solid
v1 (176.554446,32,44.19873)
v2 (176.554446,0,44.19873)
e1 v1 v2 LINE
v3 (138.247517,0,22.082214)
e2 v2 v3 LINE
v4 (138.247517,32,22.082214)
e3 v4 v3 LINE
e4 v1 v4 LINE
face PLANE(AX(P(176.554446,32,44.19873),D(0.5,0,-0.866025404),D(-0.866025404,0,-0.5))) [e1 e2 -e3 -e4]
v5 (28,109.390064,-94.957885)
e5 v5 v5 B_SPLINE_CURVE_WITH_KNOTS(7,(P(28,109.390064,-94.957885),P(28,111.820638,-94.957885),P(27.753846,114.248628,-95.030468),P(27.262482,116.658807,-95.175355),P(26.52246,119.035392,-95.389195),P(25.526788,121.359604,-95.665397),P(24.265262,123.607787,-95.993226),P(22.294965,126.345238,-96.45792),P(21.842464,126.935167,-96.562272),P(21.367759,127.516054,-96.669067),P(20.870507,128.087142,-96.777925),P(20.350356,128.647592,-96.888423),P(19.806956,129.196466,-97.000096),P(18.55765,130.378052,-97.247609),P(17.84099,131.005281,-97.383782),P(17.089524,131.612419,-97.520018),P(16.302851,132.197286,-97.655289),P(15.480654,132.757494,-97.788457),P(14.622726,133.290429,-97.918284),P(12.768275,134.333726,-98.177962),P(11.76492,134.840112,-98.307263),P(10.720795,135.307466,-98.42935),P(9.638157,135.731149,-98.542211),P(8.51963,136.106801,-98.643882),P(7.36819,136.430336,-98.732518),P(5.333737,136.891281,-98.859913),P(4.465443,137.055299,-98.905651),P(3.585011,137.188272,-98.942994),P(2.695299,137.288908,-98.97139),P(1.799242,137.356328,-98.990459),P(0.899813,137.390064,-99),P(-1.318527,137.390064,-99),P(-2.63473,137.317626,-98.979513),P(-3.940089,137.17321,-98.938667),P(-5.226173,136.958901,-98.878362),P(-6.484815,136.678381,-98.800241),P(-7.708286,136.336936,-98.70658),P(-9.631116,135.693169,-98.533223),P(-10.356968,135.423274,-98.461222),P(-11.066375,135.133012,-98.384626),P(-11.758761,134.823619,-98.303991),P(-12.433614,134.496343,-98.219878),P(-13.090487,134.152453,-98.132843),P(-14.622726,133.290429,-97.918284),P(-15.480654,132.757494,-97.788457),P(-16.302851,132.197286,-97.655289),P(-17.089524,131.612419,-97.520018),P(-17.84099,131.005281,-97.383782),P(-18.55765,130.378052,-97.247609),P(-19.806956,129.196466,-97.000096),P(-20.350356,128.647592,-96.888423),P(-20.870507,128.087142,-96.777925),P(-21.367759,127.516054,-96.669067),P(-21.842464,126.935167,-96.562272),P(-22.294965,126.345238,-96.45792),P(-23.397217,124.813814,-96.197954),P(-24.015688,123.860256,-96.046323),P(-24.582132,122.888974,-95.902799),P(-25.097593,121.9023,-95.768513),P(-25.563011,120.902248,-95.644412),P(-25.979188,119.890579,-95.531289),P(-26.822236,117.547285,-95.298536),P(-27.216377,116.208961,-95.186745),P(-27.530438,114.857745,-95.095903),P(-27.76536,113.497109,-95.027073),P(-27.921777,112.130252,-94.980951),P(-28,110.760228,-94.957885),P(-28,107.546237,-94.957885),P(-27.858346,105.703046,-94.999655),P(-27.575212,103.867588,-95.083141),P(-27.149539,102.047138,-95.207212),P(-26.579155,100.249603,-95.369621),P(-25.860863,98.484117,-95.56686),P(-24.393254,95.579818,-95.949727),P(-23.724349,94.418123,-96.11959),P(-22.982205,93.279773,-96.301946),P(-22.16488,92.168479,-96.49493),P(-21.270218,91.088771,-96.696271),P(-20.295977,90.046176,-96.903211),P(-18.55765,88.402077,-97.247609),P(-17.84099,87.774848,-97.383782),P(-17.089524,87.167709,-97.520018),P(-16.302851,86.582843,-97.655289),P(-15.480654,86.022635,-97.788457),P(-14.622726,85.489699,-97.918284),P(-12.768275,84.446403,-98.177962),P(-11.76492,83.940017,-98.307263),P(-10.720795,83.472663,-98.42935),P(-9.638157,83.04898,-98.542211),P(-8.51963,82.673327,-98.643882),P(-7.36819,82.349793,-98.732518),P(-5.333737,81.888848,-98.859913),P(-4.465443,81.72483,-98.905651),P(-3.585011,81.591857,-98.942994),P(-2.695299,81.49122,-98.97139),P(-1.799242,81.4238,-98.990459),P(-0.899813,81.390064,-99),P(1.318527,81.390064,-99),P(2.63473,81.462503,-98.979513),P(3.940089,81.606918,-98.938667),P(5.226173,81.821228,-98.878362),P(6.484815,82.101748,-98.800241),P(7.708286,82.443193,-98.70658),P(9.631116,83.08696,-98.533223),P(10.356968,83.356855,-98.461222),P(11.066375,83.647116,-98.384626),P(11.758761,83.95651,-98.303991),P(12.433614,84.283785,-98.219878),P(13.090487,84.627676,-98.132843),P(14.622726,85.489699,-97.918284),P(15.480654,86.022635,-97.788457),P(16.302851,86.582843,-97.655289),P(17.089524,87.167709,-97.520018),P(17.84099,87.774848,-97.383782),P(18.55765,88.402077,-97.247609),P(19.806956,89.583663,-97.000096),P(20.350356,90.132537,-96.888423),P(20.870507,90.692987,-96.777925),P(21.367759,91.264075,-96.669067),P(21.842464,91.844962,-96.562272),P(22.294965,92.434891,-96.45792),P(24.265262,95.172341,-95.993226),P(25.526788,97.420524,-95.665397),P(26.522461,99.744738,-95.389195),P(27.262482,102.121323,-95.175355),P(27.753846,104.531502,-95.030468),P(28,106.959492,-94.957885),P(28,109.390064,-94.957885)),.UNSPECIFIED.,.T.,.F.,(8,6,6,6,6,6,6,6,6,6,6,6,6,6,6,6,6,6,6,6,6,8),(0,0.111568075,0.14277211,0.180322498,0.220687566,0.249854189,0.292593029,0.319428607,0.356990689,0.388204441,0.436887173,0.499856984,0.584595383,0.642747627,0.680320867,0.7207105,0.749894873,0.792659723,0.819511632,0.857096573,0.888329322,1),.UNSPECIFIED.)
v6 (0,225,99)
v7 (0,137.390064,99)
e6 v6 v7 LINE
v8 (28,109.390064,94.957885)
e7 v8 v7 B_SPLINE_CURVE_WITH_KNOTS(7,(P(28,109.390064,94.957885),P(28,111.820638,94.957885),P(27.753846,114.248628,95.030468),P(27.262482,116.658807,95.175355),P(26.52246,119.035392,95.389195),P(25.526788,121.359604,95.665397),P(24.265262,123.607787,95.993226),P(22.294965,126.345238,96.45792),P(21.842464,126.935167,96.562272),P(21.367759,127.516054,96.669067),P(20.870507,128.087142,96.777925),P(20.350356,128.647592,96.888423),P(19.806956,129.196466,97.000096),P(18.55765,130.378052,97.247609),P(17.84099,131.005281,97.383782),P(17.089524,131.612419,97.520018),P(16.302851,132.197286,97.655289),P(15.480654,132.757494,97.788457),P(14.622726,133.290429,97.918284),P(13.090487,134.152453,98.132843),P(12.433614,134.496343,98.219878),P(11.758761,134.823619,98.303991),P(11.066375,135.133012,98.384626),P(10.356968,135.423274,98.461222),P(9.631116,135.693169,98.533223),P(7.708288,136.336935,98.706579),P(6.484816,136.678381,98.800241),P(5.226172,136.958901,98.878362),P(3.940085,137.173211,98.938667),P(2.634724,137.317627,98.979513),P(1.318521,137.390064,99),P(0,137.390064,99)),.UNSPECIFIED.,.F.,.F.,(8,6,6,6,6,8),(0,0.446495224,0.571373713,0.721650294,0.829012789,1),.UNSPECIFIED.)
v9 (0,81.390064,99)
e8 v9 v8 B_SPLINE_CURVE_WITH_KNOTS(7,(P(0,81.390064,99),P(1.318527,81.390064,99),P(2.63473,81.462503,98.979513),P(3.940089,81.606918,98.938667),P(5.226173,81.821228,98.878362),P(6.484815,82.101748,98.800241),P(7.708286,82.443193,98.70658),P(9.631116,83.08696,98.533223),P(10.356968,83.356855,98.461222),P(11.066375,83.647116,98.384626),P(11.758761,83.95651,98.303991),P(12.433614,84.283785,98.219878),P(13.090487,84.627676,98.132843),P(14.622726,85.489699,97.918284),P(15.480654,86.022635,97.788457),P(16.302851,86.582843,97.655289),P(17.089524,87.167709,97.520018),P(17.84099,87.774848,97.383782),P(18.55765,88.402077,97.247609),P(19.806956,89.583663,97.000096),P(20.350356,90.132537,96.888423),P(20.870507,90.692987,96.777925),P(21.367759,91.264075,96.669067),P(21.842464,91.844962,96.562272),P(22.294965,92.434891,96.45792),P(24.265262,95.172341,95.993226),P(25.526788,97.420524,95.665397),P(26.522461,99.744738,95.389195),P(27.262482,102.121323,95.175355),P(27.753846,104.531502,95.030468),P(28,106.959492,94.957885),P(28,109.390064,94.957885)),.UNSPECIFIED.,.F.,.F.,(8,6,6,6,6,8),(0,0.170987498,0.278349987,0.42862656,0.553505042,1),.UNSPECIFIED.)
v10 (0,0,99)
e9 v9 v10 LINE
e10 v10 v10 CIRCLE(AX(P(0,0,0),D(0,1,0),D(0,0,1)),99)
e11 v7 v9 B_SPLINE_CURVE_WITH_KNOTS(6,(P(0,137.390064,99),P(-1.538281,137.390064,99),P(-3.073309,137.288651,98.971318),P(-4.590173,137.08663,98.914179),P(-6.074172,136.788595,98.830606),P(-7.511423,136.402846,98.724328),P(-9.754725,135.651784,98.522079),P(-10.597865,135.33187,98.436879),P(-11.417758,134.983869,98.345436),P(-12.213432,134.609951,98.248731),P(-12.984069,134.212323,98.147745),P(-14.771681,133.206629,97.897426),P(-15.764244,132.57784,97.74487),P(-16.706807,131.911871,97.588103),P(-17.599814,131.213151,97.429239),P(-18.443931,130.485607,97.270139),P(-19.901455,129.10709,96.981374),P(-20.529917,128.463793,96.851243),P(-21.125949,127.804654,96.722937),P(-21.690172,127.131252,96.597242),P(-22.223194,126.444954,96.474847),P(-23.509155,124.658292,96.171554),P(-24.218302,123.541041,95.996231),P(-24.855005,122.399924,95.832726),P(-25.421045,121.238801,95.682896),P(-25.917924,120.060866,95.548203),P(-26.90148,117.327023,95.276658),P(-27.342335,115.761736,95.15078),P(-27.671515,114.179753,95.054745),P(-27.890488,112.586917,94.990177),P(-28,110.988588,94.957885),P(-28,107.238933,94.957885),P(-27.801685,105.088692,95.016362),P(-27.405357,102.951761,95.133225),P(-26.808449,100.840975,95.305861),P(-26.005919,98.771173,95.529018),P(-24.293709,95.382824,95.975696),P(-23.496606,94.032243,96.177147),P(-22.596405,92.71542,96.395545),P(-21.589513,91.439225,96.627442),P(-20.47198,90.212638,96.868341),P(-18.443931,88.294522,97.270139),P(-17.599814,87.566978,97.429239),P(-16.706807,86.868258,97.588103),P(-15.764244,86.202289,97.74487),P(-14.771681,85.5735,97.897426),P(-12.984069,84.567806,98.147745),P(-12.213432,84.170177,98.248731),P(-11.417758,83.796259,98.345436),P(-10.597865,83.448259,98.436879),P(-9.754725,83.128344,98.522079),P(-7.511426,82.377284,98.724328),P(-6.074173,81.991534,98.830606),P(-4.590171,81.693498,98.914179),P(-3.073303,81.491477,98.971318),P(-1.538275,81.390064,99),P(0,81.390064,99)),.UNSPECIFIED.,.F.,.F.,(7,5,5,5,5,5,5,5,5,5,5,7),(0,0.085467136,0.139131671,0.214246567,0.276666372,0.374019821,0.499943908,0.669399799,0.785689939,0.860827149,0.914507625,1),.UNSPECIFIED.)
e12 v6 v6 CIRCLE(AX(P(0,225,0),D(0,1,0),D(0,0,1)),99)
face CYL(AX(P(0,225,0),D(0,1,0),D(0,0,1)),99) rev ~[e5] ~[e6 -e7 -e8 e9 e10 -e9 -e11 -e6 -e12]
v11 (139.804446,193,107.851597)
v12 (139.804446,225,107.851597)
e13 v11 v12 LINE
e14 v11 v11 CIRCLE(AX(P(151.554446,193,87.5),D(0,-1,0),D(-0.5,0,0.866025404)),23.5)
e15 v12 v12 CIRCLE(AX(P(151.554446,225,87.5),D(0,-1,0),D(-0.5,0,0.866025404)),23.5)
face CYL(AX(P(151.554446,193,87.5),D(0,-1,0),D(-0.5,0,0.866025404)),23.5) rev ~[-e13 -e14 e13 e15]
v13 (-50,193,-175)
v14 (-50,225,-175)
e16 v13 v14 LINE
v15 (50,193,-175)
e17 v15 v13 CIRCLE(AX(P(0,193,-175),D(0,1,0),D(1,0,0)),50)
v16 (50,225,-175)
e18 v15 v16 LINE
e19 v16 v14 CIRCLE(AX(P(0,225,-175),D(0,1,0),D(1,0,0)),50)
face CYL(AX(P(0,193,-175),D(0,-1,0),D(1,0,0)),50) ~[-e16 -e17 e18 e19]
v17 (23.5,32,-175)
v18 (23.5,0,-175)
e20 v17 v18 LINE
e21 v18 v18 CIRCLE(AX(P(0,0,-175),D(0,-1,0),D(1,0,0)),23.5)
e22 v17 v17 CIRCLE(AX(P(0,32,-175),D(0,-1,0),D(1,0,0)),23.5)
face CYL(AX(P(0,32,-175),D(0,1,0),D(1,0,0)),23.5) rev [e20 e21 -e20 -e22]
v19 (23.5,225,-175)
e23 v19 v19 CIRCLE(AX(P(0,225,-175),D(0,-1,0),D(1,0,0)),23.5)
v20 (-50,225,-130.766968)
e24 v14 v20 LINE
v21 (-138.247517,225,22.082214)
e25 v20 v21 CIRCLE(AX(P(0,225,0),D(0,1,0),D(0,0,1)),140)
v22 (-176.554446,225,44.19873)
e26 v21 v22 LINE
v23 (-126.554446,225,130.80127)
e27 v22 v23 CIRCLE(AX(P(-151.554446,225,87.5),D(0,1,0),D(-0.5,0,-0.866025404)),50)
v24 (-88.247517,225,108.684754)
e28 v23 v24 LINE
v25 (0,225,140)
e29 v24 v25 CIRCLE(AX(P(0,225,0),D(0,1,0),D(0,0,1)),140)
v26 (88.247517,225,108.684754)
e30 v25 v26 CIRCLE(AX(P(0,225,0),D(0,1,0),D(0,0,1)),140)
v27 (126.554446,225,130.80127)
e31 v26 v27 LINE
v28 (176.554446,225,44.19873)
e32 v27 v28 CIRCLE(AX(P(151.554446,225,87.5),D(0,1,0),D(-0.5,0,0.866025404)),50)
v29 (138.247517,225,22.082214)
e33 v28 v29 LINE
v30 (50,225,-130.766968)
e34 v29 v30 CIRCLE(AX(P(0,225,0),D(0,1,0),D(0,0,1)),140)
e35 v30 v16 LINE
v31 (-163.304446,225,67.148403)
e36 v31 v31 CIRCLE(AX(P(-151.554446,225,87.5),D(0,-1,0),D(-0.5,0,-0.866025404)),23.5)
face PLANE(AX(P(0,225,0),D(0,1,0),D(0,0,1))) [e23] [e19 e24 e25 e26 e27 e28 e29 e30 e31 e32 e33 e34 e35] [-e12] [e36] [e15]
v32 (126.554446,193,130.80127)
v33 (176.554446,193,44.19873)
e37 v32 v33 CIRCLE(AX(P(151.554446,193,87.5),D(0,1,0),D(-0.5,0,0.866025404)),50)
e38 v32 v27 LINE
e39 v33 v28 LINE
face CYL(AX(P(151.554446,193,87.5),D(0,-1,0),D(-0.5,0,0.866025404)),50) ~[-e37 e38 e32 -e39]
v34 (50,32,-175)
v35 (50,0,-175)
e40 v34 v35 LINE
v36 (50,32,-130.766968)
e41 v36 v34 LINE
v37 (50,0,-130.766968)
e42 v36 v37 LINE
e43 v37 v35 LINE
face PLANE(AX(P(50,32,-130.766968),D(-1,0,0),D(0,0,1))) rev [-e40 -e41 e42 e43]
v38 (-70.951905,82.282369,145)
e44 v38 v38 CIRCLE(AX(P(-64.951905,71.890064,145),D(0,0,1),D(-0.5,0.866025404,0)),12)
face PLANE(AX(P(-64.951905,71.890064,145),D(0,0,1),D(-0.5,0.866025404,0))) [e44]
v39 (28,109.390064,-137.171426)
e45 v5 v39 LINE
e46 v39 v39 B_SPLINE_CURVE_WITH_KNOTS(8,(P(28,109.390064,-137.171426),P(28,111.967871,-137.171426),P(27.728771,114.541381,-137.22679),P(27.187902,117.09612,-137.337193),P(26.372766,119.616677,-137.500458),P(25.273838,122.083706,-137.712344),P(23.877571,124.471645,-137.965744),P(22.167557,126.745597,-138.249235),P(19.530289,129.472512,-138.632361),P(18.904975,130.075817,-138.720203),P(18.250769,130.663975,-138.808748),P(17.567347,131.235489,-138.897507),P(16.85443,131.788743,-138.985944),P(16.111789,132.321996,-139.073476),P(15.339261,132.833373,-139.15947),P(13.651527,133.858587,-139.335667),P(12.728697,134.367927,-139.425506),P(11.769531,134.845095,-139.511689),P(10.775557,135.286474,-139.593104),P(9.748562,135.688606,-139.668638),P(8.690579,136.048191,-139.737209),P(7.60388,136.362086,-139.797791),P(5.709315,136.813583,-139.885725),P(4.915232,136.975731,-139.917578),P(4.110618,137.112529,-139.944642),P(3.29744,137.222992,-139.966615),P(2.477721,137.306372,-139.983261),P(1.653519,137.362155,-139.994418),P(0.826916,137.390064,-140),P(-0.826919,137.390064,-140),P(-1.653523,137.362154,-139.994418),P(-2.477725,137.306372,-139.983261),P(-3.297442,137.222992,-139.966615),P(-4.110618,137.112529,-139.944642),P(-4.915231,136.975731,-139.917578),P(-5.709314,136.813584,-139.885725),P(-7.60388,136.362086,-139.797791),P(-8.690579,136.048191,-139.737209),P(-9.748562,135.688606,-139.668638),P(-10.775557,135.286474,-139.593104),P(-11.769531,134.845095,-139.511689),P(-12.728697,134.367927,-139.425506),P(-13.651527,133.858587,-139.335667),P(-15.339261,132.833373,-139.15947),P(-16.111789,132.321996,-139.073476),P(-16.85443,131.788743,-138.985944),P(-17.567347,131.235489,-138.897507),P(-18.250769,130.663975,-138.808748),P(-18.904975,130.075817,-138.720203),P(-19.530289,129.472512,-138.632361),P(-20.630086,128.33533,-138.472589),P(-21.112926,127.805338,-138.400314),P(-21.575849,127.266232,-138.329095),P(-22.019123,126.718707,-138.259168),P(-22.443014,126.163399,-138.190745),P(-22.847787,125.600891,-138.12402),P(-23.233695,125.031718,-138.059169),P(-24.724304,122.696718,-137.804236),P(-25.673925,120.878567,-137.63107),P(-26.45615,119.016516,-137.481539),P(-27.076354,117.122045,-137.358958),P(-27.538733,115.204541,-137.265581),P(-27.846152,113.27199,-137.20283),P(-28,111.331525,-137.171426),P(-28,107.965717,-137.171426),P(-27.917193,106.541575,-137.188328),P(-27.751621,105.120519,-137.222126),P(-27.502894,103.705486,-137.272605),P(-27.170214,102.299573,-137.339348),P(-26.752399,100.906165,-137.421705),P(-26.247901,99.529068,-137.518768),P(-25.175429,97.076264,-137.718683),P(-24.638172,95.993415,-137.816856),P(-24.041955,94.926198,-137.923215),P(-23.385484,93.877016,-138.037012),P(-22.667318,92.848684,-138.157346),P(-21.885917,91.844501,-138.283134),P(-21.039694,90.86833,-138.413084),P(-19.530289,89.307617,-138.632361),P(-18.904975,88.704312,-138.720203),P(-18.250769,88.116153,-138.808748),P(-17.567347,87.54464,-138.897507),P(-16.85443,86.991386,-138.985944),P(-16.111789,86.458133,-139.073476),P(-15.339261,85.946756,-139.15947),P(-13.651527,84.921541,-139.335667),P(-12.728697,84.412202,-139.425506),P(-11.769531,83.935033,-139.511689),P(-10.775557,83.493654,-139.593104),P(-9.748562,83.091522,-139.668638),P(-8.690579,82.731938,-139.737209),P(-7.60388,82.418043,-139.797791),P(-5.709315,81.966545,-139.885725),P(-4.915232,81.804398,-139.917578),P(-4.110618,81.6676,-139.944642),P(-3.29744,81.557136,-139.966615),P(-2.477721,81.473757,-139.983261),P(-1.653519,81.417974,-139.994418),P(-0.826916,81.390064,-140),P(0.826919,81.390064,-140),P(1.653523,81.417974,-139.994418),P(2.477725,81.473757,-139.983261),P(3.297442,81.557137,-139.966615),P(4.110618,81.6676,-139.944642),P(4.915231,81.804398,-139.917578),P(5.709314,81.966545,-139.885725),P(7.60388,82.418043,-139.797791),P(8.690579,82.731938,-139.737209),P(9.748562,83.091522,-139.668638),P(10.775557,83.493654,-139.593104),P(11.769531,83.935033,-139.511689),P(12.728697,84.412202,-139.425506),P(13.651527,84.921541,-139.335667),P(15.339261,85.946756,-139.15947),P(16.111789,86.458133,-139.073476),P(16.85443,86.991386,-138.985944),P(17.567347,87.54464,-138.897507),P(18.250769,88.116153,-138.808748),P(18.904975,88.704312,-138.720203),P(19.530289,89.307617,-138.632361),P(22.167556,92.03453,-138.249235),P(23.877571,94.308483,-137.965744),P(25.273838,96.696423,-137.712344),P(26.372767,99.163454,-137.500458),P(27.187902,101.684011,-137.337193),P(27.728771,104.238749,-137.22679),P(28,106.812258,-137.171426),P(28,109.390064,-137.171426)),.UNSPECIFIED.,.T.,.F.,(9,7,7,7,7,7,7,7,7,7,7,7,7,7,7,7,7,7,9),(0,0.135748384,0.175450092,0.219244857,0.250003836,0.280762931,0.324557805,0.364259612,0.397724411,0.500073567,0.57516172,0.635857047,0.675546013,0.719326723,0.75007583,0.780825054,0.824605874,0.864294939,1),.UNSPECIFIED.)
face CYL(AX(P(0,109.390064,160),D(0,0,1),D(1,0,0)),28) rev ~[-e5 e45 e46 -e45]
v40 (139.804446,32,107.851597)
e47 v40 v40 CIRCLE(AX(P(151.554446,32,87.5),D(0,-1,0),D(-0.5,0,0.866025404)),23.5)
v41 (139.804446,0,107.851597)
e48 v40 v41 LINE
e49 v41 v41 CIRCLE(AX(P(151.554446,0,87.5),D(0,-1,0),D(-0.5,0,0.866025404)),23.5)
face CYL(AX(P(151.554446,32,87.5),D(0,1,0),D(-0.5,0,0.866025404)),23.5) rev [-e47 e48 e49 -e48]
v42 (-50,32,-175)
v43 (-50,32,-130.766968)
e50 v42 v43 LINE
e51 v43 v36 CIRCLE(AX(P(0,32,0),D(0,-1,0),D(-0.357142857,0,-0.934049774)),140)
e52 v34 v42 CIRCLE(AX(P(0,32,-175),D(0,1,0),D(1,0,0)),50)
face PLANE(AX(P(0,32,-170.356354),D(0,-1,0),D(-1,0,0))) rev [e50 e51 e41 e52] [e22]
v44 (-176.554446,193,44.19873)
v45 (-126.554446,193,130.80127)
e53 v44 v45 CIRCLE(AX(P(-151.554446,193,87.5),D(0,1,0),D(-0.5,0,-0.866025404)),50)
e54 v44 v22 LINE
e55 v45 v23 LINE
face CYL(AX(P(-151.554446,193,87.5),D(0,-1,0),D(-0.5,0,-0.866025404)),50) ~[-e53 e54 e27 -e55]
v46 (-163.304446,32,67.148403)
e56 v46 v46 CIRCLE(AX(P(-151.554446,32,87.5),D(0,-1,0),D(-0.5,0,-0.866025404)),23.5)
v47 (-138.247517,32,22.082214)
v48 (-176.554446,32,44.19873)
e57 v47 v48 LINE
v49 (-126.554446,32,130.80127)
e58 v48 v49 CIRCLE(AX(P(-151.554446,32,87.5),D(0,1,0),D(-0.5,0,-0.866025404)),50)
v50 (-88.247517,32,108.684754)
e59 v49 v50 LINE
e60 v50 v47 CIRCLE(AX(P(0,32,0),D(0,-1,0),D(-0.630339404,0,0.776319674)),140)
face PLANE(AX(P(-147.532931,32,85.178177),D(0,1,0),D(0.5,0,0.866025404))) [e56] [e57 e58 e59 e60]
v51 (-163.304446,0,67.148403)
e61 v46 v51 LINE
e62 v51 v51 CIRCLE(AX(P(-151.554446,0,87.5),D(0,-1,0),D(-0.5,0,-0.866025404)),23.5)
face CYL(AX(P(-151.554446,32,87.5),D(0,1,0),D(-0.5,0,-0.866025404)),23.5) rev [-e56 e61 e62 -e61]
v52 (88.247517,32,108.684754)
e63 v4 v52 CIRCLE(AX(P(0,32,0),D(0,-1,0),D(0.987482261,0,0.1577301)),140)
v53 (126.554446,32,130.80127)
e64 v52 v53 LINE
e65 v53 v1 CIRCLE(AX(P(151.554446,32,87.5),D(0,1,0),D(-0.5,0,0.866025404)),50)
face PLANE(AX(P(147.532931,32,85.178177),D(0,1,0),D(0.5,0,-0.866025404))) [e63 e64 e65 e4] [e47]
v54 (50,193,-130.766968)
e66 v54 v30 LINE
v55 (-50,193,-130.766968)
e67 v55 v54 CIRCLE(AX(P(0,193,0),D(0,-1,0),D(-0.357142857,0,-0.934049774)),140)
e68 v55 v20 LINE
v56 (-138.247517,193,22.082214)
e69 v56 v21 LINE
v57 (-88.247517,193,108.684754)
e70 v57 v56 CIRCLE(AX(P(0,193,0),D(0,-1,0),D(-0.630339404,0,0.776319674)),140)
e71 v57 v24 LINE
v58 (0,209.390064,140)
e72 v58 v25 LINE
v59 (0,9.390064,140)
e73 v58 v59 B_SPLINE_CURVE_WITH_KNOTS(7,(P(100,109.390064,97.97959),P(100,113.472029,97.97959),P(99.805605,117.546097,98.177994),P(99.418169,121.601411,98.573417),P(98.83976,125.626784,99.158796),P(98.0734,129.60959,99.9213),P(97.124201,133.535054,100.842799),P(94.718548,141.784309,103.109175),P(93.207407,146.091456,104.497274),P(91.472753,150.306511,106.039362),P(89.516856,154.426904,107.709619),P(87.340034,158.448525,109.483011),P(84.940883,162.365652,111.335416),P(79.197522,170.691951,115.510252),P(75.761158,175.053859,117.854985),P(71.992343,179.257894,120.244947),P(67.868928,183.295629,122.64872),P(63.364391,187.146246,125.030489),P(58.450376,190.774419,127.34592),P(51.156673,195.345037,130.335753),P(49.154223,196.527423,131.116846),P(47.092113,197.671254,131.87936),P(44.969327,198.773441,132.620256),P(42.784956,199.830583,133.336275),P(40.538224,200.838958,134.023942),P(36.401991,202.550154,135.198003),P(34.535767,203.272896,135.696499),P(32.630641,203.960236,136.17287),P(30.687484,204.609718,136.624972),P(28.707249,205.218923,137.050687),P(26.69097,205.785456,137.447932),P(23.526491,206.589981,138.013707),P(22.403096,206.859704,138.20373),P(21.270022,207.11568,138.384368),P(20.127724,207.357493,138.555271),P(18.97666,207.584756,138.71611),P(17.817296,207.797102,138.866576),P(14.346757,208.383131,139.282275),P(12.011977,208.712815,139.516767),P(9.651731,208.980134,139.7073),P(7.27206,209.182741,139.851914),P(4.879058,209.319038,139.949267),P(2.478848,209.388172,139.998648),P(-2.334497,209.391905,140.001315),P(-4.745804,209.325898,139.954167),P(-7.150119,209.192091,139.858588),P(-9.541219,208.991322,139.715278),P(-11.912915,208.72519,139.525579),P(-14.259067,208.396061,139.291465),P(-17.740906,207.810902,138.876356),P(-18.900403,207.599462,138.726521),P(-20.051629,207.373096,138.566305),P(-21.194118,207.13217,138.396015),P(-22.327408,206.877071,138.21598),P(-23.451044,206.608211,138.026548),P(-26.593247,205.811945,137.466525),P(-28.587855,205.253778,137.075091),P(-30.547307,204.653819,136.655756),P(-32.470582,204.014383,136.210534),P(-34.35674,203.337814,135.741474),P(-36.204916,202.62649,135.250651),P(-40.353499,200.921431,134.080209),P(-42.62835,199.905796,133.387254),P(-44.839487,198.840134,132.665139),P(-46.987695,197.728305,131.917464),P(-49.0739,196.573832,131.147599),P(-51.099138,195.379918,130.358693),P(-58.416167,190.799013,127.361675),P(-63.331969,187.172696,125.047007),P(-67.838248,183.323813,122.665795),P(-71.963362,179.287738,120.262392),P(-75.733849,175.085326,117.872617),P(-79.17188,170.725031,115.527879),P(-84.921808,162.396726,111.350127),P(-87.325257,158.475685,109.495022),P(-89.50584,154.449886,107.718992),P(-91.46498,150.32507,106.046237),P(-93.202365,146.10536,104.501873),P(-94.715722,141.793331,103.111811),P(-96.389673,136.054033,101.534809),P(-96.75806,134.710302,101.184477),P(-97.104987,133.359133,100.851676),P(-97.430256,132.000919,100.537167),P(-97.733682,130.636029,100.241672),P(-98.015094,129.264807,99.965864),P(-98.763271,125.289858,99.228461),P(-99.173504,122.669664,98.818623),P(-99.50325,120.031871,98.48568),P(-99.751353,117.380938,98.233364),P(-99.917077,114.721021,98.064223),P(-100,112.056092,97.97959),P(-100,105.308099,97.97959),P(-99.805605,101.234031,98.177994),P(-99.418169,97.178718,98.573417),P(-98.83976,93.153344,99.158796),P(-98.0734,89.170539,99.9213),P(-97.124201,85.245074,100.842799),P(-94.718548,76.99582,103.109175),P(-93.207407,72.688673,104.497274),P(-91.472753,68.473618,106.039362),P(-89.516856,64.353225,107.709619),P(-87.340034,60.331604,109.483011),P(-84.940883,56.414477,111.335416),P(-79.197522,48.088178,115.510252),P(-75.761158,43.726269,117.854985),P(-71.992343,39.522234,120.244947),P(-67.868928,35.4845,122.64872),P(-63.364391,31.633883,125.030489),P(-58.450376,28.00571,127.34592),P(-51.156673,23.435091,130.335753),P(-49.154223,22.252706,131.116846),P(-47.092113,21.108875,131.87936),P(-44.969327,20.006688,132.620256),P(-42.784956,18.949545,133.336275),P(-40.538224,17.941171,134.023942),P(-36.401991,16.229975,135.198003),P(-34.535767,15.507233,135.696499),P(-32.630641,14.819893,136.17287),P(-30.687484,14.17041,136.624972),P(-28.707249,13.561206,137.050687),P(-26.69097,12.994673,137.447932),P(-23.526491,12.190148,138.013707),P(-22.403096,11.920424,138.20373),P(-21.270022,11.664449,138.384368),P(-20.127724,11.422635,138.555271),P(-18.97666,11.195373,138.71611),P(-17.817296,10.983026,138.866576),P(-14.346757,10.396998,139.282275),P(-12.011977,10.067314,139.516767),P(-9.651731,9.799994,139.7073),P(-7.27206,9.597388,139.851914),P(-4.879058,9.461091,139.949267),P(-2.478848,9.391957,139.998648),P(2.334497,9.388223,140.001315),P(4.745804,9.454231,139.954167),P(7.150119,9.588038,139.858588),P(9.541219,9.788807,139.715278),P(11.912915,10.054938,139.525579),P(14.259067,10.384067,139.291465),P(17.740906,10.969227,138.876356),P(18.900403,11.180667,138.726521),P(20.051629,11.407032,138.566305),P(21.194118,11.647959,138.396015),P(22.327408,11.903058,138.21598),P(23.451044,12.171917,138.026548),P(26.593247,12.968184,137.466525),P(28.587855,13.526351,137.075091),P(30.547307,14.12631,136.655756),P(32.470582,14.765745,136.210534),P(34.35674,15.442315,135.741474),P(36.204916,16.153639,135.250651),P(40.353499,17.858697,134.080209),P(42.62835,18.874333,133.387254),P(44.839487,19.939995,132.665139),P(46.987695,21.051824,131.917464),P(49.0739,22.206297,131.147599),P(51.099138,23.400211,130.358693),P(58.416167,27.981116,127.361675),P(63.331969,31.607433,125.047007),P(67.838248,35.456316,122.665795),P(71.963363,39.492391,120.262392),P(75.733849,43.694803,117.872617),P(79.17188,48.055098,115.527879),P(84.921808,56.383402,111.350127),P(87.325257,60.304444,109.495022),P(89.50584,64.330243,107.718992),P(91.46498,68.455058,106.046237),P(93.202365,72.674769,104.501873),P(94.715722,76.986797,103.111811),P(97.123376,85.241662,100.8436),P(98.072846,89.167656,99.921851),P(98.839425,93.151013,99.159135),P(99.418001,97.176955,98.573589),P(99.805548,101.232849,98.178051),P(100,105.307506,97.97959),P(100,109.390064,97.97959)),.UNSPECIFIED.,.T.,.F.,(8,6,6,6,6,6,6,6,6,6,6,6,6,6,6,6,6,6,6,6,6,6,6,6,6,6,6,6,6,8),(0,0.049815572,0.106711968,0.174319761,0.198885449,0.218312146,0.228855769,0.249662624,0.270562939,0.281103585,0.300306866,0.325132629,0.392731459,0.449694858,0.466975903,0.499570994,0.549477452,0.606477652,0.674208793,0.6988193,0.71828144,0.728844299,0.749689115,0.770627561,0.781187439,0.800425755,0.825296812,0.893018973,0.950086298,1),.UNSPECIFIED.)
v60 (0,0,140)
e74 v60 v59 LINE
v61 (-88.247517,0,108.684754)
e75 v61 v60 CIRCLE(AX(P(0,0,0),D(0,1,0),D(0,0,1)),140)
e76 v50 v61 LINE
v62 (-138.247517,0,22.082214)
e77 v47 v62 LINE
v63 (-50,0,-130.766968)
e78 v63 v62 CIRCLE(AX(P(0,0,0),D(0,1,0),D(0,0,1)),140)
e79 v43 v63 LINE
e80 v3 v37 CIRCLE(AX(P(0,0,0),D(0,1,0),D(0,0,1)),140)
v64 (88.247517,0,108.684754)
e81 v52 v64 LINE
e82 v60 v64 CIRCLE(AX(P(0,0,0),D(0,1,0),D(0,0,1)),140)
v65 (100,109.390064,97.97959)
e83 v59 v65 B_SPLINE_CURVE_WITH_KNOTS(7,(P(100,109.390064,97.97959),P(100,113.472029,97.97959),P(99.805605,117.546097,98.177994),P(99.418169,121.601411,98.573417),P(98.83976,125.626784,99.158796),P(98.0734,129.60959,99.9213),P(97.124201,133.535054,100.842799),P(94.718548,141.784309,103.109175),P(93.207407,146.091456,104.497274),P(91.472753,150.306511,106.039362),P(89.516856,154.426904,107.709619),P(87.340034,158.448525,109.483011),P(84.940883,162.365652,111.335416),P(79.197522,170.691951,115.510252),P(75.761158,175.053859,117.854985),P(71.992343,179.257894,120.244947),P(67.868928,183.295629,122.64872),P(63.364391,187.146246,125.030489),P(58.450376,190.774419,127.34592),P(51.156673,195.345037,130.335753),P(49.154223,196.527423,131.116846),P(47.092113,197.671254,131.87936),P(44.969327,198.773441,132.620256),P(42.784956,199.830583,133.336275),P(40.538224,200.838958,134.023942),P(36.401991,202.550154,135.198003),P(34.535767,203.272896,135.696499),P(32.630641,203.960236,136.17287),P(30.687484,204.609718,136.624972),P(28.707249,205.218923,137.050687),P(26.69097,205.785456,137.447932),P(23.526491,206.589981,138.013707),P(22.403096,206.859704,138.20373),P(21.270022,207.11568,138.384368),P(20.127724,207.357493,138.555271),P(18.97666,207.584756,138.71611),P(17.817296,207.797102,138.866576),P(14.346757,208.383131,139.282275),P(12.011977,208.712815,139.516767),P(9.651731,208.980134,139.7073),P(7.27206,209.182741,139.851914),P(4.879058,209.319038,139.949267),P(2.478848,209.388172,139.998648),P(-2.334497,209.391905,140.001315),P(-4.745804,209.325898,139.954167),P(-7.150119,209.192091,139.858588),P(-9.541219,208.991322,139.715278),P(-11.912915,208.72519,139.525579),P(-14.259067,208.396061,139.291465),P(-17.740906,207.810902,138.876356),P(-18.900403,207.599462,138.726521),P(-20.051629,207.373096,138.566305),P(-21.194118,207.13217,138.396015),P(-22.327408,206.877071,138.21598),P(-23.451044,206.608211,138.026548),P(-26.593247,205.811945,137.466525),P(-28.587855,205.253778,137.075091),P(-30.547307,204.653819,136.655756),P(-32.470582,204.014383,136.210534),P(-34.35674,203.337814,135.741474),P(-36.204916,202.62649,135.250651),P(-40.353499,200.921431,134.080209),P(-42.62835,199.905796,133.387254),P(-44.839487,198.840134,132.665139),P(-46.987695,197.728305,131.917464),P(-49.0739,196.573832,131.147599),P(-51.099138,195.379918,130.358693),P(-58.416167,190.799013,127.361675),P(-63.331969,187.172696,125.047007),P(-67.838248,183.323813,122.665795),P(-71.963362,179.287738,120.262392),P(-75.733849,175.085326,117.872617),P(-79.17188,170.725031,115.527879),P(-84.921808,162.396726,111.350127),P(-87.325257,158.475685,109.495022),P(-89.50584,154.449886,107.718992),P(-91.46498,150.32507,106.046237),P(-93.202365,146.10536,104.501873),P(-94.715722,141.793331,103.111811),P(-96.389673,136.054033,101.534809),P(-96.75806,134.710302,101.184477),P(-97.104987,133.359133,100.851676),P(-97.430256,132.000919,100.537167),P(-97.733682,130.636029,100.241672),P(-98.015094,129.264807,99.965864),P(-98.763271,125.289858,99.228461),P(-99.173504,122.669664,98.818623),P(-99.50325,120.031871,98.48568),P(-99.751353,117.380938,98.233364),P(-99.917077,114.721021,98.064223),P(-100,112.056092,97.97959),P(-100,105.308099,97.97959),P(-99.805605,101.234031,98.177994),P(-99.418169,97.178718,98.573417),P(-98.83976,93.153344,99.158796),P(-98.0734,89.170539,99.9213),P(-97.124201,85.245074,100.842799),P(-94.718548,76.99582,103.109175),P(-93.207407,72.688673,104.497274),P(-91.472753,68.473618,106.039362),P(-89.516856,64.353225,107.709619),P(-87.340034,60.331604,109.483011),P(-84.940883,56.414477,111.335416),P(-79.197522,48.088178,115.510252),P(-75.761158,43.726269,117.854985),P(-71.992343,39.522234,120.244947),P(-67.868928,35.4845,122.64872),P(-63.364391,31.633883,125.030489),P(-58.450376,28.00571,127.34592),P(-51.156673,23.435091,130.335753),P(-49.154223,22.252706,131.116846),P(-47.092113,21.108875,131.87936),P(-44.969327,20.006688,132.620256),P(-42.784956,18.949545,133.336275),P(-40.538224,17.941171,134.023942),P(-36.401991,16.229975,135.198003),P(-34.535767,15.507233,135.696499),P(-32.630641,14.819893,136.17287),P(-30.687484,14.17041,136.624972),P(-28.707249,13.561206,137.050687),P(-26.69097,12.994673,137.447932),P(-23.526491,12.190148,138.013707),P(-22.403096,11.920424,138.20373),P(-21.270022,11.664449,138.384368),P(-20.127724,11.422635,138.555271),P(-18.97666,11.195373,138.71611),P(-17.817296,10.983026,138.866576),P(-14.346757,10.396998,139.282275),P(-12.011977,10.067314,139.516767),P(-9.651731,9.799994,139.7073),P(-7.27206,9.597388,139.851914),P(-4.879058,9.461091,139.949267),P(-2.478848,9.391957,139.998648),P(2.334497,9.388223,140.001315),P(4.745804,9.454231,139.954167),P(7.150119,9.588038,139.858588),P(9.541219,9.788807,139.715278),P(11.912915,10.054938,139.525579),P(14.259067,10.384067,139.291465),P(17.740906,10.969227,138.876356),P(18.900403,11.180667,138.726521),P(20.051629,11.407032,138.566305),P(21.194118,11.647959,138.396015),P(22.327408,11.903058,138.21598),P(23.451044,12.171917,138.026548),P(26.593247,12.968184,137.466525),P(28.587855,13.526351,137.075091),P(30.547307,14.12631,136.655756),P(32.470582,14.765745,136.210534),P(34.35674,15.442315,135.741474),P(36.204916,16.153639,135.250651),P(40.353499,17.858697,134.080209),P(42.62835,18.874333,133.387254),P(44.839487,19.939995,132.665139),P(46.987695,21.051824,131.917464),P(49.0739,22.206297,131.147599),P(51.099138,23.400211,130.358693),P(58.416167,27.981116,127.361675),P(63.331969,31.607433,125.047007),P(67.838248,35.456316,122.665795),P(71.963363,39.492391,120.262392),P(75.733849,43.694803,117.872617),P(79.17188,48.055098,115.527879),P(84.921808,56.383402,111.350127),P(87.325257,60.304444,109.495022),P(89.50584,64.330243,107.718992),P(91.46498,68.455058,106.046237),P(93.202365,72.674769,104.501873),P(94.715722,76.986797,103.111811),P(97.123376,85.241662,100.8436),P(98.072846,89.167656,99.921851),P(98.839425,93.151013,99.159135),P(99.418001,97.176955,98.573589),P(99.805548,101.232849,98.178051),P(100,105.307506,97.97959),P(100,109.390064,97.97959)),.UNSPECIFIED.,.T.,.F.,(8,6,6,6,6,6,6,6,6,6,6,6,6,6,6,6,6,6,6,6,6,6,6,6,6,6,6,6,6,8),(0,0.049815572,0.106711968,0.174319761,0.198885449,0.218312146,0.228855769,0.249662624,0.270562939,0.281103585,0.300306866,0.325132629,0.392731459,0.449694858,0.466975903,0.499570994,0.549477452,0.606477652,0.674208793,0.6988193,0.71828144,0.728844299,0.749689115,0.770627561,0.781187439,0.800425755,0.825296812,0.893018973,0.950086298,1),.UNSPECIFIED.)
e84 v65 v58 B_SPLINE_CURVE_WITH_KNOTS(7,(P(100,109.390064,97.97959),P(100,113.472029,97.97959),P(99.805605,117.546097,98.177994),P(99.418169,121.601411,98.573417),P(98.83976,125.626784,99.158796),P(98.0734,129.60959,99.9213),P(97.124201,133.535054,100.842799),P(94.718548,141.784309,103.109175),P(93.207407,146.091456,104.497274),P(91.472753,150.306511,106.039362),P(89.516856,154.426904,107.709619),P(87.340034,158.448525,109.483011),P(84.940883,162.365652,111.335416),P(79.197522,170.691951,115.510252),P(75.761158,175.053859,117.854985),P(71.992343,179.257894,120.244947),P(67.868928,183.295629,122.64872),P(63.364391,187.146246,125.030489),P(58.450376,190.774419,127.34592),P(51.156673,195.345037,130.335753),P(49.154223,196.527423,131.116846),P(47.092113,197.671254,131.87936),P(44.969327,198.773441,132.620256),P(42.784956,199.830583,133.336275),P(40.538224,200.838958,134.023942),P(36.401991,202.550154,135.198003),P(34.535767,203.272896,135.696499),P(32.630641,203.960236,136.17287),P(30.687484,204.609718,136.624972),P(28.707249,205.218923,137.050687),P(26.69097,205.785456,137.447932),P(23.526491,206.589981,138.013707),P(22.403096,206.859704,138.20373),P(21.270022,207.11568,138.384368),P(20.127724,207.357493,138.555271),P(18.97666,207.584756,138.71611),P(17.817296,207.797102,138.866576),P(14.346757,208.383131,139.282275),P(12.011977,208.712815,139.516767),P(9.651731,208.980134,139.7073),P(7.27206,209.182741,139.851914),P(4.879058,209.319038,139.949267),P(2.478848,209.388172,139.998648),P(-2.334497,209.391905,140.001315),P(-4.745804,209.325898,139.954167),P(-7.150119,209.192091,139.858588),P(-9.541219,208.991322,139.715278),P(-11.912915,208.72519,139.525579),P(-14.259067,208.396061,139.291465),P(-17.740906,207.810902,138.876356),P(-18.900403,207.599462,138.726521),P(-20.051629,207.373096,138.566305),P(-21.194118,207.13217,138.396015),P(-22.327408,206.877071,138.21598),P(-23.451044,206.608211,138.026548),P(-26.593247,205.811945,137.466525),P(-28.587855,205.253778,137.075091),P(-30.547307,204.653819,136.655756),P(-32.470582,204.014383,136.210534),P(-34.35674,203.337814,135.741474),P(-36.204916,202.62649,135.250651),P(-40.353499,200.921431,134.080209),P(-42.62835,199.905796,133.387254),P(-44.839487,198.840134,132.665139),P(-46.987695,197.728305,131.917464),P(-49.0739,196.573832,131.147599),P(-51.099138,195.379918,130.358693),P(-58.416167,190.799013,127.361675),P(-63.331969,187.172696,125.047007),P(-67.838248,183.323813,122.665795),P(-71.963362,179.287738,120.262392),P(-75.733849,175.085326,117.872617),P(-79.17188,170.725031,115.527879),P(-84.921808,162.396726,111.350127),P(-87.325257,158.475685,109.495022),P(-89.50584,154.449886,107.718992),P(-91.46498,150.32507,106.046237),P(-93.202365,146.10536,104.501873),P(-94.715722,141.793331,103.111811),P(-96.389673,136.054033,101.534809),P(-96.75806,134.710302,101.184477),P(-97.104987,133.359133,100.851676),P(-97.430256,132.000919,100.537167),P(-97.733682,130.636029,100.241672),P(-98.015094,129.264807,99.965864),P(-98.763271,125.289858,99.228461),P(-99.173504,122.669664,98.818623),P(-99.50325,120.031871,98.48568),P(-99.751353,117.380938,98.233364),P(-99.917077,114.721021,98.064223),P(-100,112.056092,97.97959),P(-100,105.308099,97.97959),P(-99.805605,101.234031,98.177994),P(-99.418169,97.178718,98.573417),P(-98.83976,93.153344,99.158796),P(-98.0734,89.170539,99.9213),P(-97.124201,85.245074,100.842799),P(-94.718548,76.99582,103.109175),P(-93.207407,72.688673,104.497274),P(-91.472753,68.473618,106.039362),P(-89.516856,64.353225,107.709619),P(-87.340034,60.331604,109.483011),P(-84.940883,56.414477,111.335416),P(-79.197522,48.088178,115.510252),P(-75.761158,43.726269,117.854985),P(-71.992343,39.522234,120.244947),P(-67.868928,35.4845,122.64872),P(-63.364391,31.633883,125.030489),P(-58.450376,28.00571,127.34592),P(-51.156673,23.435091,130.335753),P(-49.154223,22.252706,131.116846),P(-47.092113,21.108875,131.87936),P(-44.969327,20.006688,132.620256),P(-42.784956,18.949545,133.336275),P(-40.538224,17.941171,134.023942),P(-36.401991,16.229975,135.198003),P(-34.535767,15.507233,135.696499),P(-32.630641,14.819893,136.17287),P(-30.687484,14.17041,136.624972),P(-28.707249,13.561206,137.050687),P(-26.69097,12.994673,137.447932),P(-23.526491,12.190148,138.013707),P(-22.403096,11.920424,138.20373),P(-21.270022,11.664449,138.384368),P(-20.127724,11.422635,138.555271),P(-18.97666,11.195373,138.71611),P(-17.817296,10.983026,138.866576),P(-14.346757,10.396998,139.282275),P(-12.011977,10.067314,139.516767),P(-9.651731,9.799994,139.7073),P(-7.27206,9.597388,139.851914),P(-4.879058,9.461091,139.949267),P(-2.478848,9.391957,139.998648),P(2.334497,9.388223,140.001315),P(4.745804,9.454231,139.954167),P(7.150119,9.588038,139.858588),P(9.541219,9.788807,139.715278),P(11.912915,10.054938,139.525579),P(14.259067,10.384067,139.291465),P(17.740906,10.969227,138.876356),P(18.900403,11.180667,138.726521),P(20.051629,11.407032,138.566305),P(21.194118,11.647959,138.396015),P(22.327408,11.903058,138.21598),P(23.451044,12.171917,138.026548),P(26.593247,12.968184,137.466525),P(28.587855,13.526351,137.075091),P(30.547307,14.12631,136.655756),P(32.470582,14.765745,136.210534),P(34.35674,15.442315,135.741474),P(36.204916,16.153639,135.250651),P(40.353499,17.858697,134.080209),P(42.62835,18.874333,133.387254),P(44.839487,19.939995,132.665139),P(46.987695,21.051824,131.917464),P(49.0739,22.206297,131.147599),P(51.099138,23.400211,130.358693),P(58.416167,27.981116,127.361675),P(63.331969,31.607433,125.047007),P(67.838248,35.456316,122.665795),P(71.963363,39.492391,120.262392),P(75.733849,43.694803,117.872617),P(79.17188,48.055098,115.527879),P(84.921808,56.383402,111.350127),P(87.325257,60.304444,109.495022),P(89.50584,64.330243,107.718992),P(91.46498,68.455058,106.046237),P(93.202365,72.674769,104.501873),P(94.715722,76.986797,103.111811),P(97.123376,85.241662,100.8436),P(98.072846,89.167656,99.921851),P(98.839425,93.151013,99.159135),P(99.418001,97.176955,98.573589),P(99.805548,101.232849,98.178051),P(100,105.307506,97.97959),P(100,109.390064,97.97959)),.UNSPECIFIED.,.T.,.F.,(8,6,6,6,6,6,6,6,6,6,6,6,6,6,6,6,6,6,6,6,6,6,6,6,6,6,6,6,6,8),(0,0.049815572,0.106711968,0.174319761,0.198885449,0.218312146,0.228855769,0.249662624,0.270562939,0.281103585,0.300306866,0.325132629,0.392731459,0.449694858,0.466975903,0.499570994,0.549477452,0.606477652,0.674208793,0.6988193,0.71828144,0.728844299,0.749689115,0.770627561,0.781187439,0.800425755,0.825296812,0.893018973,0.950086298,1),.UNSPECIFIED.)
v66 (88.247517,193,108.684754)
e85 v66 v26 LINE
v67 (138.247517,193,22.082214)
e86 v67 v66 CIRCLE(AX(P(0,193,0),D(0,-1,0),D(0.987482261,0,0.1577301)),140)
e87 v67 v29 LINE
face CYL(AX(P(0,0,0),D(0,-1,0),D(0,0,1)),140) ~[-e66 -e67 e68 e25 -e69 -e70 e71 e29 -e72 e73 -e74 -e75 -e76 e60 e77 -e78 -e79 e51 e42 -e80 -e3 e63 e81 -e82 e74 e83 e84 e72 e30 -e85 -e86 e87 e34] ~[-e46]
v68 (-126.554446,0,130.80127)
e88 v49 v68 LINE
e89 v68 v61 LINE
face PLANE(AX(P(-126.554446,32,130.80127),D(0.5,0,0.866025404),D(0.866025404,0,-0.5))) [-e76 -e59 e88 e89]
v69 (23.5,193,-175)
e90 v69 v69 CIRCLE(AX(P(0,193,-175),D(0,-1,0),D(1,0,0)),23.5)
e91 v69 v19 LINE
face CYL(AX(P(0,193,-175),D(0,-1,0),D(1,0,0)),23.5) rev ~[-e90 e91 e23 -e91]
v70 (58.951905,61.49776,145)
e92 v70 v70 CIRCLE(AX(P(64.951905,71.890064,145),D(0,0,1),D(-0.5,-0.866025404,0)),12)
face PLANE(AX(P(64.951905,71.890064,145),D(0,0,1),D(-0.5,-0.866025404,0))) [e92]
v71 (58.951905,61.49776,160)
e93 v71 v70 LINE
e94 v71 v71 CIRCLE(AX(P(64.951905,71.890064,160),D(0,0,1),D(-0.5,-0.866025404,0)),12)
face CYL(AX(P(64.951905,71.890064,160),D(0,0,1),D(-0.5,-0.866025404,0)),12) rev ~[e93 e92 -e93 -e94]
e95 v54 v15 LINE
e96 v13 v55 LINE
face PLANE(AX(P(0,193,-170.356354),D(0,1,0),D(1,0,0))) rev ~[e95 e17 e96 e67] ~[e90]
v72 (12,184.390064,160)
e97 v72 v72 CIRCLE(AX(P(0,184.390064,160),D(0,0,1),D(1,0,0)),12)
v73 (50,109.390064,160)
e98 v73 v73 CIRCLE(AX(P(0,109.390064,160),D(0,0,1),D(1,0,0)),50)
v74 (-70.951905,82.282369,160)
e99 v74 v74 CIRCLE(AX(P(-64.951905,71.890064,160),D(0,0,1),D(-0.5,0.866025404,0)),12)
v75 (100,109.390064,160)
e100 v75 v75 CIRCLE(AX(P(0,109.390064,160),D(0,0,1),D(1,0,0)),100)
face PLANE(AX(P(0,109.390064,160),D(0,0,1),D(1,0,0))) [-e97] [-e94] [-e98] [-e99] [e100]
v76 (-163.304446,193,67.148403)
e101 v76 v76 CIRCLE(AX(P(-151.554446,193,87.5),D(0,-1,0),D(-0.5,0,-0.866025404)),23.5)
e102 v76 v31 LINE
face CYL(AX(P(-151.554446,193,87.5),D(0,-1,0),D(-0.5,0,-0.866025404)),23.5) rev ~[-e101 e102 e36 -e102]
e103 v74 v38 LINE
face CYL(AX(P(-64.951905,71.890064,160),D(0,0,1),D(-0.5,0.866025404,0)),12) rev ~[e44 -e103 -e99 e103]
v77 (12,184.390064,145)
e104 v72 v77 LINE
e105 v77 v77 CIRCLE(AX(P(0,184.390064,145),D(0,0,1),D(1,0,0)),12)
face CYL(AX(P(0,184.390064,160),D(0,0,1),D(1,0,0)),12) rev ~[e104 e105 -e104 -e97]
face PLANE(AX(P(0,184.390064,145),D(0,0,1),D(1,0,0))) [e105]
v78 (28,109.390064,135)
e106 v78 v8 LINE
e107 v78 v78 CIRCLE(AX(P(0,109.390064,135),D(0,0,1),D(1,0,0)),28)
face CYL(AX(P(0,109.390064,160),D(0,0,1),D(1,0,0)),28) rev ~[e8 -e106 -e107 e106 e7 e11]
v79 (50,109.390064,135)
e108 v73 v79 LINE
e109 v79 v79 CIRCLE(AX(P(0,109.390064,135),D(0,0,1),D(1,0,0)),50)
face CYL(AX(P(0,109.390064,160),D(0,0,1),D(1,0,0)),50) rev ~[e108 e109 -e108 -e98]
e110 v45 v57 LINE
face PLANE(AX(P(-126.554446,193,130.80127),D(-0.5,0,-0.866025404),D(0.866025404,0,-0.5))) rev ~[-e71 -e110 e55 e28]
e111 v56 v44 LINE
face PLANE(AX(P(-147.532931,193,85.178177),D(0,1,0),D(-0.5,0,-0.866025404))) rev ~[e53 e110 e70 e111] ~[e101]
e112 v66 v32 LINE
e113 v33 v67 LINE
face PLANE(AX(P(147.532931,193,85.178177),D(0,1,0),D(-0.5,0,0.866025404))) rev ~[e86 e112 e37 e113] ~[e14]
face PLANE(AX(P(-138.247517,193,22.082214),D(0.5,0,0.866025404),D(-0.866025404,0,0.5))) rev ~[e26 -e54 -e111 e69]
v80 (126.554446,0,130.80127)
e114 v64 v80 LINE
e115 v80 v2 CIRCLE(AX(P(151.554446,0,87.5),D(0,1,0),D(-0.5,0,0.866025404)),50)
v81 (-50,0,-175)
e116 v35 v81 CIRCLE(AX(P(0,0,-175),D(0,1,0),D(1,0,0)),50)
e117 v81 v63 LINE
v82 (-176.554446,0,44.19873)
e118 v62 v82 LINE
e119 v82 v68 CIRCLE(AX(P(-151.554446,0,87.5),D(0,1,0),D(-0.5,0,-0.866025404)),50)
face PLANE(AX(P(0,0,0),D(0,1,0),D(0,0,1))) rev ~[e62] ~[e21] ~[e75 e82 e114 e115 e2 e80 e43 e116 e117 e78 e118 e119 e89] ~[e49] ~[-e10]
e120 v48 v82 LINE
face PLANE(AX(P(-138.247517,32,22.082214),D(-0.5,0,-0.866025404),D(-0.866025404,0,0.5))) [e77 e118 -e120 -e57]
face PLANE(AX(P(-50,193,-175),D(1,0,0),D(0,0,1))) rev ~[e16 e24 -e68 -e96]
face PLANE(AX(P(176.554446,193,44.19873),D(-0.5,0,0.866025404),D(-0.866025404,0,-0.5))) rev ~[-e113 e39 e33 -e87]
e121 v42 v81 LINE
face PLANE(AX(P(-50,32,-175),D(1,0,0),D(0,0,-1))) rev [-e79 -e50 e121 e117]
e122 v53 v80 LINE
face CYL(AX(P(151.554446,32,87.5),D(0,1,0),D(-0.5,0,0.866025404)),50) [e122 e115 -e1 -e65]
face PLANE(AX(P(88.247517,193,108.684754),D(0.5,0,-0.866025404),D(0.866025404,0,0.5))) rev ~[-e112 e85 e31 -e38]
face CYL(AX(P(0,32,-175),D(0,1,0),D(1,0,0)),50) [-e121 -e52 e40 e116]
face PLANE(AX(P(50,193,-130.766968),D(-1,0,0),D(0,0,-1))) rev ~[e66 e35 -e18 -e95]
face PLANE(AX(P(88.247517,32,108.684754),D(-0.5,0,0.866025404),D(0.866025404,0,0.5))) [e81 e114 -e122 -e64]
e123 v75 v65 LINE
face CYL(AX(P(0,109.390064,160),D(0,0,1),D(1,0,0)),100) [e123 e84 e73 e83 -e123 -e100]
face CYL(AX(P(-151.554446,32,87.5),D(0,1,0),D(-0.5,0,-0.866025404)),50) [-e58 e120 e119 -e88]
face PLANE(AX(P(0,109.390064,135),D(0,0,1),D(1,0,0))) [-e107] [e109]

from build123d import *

# Parameters (mm, degrees)
SKETCH1_R                = 140
BOSS_EXTRUDE1_DEPTH      = 225
SKETCH2_R                = 99
CUT_EXTRUDE1_DEPTH       = 300.708191413
BOSS_EXTRUDE2_START      = -32
BOSS_EXTRUDE2_DEPTH      = 32
CIRPATTERN1_COUNT        = 3
CIRPATTERN2_START        = -32
CIRPATTERN2_COPY_1_DEPTH = 32
CIRPATTERN2_COPY_2_DEPTH = 32
CIRPATTERN2_COPY_3_DEPTH = 32
CIRPATTERN2_COPY_4_DEPTH = 32
BOSS_EXTRUDE3_REACH      = 491.361
BOSS_EXTRUDE3_END_RADIUS = 140
SKETCH5_R                = 100
SKETCH6_R                = 50
CUT_EXTRUDE2_DEPTH       = 25
SKETCH9_R                = 28
CUT_EXTRUDE3_DEPTH       = 490.361006427
SKETCH11_R               = 12
CUT_EXTRUDE4_DEPTH       = 15
CIRPATTERN4_COUNT        = 3


with BuildPart() as part:
    # Sketch1 → Boss-Extrude1 (new body)
    with BuildSketch(Plane(origin=(0, 0, 0), x_dir=(1, 0, 0), z_dir=(0, 1, 0))):
        with Locations(Location((0, 0, 0), (0, 0, 270))):
            Circle(SKETCH1_R)
    extrude(amount=BOSS_EXTRUDE1_DEPTH)

    # Sketch2 → Cut-Extrude1 (cut, through all)
    with BuildSketch(Plane(origin=(0, 225, 0), x_dir=(1, 0, 0), z_dir=(0, 1, 0))):
        with Locations(Location((0, 0, 0), (0, 0, 270))):
            Circle(SKETCH2_R)
    extrude(amount=-CUT_EXTRUDE1_DEPTH, mode=Mode.SUBTRACT)

    # Sketch3 → Boss-Extrude2 (add)
    with BuildSketch(Plane(origin=(0, 225, 0), x_dir=(1, 0, 0), z_dir=(0, 1, 0)).offset(BOSS_EXTRUDE2_START)):
        with BuildLine():
            ThreePointArc((50, 175), (0, 225), (-50, 175))
            Line((-50, 175), (-50, 130.766968306))
            ThreePointArc((-50, 130.766968306), (0, 140), (50, 130.766968306))
            Line((50, 130.766968306), (50, 175))
        make_face()
        with BuildLine():
            ThreePointArc((-23.5, 175), (0, 198.5), (23.5, 175))
            ThreePointArc((23.5, 175), (0, 151.5), (-23.5, 175))
        make_face(mode=Mode.SUBTRACT)
    boss_extrude2 = extrude(amount=BOSS_EXTRUDE2_DEPTH)

    # CirPattern1: Boss-Extrude2 ×3 about axis
    cirpattern1_axis = Axis((0, 0, 0), (0, 1, 0))
    for i in range(1, CIRPATTERN1_COUNT):
        add(boss_extrude2.rotate(cirpattern1_axis, i * 360 / CIRPATTERN1_COUNT))

    # Mirror3: Boss-Extrude2 across plane
    add(boss_extrude2.mirror(Plane(origin=(0, 112.5, 0), x_dir=(0, 0, 1), z_dir=(0, -1, 0))))

    # CirPattern2 copy 1 sketch → CirPattern2 copy 1 (add)
    with BuildSketch(Plane(origin=(0, 0, 0), x_dir=(-0.4999999999999998, 0, 0.8660254037844387), z_dir=(0, -1, 0)).offset(CIRPATTERN2_START)):
        with BuildLine():
            ThreePointArc((50, -175), (0, -225), (-50, -175))
            Line((-50, -175), (-50, -130.766968306))
            ThreePointArc((-50, -130.766968306), (0, -140), (50, -130.766968306))
            Line((50, -130.766968306), (50, -175))
        make_face()
        with BuildLine():
            ThreePointArc((-23.5, -175), (0, -198.5), (23.5, -175))
            ThreePointArc((23.5, -175), (0, -151.5), (-23.5, -175))
        make_face(mode=Mode.SUBTRACT)
    extrude(amount=CIRPATTERN2_COPY_1_DEPTH)

    # CirPattern2 copy 2 sketch → CirPattern2 copy 2 (add)
    with BuildSketch(Plane(origin=(0, 0, 0), x_dir=(-0.5000000000000004, 0, -0.8660254037844384), z_dir=(0, -1, 0)).offset(CIRPATTERN2_START)):
        with BuildLine():
            ThreePointArc((50, -175), (0, -225), (-50, -175))
            Line((-50, -175), (-50, -130.766968306))
            ThreePointArc((-50, -130.766968306), (0, -140), (50, -130.766968306))
            Line((50, -130.766968306), (50, -175))
        make_face()
        with BuildLine():
            ThreePointArc((-23.5, -175), (0, -198.5), (23.5, -175))
            ThreePointArc((23.5, -175), (0, -151.5), (-23.5, -175))
        make_face(mode=Mode.SUBTRACT)
    extrude(amount=CIRPATTERN2_COPY_2_DEPTH)

    # CirPattern2 copy 3 sketch → CirPattern2 copy 3 (add)
    with BuildSketch(Plane(origin=(0, 225, 0), x_dir=(-0.4999999999999998, 0, 0.8660254037844387), z_dir=(0, 1, 0)).offset(CIRPATTERN2_START)):
        with BuildLine():
            ThreePointArc((50, 175), (0, 225), (-50, 175))
            Line((-50, 175), (-50, 130.766968306))
            ThreePointArc((-50, 130.766968306), (0, 140), (50, 130.766968306))
            Line((50, 130.766968306), (50, 175))
        make_face()
        with BuildLine():
            ThreePointArc((-23.5, 175), (0, 198.5), (23.5, 175))
            ThreePointArc((23.5, 175), (0, 151.5), (-23.5, 175))
        make_face(mode=Mode.SUBTRACT)
    extrude(amount=CIRPATTERN2_COPY_3_DEPTH)

    # CirPattern2 copy 4 sketch → CirPattern2 copy 4 (add)
    with BuildSketch(Plane(origin=(0, 225, 0), x_dir=(-0.5000000000000004, 0, -0.8660254037844384), z_dir=(0, 1, 0)).offset(CIRPATTERN2_START)):
        with BuildLine():
            ThreePointArc((50, 175), (0, 225), (-50, 175))
            Line((-50, 175), (-50, 130.766968306))
            ThreePointArc((-50, 130.766968306), (0, 140), (50, 130.766968306))
            Line((50, 130.766968306), (50, 175))
        make_face()
        with BuildLine():
            ThreePointArc((-23.5, 175), (0, 198.5), (23.5, 175))
            ThreePointArc((23.5, 175), (0, 151.5), (-23.5, 175))
        make_face(mode=Mode.SUBTRACT)
    extrude(amount=CIRPATTERN2_COPY_4_DEPTH)

    # Boss-Extrude3: up to this cylinder (the profile starts outside it)
    boss_extrude3_end = Plane(origin=(0, 109.390064, 0), z_dir=(0, -1, 0)) * Cylinder(BOSS_EXTRUDE3_END_RADIUS, 1263.722, mode=Mode.PRIVATE)
    # Sketch5 → Boss-Extrude3 (add, up to the surface)
    with BuildSketch(Plane.XY.offset(160), mode=Mode.PRIVATE) as boss_extrude3_sk1:
        with Locations((0, 109.390064354)):
            Circle(SKETCH5_R)
    boss_extrude3_tool1 = extrude(boss_extrude3_sk1.sketch, amount=-BOSS_EXTRUDE3_REACH, mode=Mode.PRIVATE) - boss_extrude3_end
    add(boss_extrude3_tool1.solids().sort_by_distance((0, 109.390064, 160))[0])

    # Sketch6 → Cut-Extrude2 (cut)
    with BuildSketch(Plane.XY.offset(160)):
        with Locations((0, 109.390064354)):
            Circle(SKETCH6_R)
    extrude(amount=-CUT_EXTRUDE2_DEPTH, mode=Mode.SUBTRACT)

    # Sketch9 → Cut-Extrude3 (cut, through all)
    with BuildSketch(Plane.XY.offset(160)):
        with Locations((0, 109.390064354)):
            Circle(SKETCH9_R)
    extrude(amount=-CUT_EXTRUDE3_DEPTH, mode=Mode.SUBTRACT)

    # Sketch11 → Cut-Extrude4 (cut)
    with BuildSketch(Plane.XY.offset(160)):
        with Locations((0, 184.390064354)):
            Circle(SKETCH11_R)
    cut_extrude4 = extrude(amount=-CUT_EXTRUDE4_DEPTH, mode=Mode.SUBTRACT)

    # CirPattern4: Cut-Extrude4 ×3 about axis
    cirpattern4_axis = Axis((0, 109.390064354, 0), (0, 0, 1))
    for i in range(1, CIRPATTERN4_COUNT):
        add(cut_extrude4.rotate(cirpattern4_axis, i * 360 / CIRPATTERN4_COUNT), mode=Mode.SUBTRACT)


solid = part.part
